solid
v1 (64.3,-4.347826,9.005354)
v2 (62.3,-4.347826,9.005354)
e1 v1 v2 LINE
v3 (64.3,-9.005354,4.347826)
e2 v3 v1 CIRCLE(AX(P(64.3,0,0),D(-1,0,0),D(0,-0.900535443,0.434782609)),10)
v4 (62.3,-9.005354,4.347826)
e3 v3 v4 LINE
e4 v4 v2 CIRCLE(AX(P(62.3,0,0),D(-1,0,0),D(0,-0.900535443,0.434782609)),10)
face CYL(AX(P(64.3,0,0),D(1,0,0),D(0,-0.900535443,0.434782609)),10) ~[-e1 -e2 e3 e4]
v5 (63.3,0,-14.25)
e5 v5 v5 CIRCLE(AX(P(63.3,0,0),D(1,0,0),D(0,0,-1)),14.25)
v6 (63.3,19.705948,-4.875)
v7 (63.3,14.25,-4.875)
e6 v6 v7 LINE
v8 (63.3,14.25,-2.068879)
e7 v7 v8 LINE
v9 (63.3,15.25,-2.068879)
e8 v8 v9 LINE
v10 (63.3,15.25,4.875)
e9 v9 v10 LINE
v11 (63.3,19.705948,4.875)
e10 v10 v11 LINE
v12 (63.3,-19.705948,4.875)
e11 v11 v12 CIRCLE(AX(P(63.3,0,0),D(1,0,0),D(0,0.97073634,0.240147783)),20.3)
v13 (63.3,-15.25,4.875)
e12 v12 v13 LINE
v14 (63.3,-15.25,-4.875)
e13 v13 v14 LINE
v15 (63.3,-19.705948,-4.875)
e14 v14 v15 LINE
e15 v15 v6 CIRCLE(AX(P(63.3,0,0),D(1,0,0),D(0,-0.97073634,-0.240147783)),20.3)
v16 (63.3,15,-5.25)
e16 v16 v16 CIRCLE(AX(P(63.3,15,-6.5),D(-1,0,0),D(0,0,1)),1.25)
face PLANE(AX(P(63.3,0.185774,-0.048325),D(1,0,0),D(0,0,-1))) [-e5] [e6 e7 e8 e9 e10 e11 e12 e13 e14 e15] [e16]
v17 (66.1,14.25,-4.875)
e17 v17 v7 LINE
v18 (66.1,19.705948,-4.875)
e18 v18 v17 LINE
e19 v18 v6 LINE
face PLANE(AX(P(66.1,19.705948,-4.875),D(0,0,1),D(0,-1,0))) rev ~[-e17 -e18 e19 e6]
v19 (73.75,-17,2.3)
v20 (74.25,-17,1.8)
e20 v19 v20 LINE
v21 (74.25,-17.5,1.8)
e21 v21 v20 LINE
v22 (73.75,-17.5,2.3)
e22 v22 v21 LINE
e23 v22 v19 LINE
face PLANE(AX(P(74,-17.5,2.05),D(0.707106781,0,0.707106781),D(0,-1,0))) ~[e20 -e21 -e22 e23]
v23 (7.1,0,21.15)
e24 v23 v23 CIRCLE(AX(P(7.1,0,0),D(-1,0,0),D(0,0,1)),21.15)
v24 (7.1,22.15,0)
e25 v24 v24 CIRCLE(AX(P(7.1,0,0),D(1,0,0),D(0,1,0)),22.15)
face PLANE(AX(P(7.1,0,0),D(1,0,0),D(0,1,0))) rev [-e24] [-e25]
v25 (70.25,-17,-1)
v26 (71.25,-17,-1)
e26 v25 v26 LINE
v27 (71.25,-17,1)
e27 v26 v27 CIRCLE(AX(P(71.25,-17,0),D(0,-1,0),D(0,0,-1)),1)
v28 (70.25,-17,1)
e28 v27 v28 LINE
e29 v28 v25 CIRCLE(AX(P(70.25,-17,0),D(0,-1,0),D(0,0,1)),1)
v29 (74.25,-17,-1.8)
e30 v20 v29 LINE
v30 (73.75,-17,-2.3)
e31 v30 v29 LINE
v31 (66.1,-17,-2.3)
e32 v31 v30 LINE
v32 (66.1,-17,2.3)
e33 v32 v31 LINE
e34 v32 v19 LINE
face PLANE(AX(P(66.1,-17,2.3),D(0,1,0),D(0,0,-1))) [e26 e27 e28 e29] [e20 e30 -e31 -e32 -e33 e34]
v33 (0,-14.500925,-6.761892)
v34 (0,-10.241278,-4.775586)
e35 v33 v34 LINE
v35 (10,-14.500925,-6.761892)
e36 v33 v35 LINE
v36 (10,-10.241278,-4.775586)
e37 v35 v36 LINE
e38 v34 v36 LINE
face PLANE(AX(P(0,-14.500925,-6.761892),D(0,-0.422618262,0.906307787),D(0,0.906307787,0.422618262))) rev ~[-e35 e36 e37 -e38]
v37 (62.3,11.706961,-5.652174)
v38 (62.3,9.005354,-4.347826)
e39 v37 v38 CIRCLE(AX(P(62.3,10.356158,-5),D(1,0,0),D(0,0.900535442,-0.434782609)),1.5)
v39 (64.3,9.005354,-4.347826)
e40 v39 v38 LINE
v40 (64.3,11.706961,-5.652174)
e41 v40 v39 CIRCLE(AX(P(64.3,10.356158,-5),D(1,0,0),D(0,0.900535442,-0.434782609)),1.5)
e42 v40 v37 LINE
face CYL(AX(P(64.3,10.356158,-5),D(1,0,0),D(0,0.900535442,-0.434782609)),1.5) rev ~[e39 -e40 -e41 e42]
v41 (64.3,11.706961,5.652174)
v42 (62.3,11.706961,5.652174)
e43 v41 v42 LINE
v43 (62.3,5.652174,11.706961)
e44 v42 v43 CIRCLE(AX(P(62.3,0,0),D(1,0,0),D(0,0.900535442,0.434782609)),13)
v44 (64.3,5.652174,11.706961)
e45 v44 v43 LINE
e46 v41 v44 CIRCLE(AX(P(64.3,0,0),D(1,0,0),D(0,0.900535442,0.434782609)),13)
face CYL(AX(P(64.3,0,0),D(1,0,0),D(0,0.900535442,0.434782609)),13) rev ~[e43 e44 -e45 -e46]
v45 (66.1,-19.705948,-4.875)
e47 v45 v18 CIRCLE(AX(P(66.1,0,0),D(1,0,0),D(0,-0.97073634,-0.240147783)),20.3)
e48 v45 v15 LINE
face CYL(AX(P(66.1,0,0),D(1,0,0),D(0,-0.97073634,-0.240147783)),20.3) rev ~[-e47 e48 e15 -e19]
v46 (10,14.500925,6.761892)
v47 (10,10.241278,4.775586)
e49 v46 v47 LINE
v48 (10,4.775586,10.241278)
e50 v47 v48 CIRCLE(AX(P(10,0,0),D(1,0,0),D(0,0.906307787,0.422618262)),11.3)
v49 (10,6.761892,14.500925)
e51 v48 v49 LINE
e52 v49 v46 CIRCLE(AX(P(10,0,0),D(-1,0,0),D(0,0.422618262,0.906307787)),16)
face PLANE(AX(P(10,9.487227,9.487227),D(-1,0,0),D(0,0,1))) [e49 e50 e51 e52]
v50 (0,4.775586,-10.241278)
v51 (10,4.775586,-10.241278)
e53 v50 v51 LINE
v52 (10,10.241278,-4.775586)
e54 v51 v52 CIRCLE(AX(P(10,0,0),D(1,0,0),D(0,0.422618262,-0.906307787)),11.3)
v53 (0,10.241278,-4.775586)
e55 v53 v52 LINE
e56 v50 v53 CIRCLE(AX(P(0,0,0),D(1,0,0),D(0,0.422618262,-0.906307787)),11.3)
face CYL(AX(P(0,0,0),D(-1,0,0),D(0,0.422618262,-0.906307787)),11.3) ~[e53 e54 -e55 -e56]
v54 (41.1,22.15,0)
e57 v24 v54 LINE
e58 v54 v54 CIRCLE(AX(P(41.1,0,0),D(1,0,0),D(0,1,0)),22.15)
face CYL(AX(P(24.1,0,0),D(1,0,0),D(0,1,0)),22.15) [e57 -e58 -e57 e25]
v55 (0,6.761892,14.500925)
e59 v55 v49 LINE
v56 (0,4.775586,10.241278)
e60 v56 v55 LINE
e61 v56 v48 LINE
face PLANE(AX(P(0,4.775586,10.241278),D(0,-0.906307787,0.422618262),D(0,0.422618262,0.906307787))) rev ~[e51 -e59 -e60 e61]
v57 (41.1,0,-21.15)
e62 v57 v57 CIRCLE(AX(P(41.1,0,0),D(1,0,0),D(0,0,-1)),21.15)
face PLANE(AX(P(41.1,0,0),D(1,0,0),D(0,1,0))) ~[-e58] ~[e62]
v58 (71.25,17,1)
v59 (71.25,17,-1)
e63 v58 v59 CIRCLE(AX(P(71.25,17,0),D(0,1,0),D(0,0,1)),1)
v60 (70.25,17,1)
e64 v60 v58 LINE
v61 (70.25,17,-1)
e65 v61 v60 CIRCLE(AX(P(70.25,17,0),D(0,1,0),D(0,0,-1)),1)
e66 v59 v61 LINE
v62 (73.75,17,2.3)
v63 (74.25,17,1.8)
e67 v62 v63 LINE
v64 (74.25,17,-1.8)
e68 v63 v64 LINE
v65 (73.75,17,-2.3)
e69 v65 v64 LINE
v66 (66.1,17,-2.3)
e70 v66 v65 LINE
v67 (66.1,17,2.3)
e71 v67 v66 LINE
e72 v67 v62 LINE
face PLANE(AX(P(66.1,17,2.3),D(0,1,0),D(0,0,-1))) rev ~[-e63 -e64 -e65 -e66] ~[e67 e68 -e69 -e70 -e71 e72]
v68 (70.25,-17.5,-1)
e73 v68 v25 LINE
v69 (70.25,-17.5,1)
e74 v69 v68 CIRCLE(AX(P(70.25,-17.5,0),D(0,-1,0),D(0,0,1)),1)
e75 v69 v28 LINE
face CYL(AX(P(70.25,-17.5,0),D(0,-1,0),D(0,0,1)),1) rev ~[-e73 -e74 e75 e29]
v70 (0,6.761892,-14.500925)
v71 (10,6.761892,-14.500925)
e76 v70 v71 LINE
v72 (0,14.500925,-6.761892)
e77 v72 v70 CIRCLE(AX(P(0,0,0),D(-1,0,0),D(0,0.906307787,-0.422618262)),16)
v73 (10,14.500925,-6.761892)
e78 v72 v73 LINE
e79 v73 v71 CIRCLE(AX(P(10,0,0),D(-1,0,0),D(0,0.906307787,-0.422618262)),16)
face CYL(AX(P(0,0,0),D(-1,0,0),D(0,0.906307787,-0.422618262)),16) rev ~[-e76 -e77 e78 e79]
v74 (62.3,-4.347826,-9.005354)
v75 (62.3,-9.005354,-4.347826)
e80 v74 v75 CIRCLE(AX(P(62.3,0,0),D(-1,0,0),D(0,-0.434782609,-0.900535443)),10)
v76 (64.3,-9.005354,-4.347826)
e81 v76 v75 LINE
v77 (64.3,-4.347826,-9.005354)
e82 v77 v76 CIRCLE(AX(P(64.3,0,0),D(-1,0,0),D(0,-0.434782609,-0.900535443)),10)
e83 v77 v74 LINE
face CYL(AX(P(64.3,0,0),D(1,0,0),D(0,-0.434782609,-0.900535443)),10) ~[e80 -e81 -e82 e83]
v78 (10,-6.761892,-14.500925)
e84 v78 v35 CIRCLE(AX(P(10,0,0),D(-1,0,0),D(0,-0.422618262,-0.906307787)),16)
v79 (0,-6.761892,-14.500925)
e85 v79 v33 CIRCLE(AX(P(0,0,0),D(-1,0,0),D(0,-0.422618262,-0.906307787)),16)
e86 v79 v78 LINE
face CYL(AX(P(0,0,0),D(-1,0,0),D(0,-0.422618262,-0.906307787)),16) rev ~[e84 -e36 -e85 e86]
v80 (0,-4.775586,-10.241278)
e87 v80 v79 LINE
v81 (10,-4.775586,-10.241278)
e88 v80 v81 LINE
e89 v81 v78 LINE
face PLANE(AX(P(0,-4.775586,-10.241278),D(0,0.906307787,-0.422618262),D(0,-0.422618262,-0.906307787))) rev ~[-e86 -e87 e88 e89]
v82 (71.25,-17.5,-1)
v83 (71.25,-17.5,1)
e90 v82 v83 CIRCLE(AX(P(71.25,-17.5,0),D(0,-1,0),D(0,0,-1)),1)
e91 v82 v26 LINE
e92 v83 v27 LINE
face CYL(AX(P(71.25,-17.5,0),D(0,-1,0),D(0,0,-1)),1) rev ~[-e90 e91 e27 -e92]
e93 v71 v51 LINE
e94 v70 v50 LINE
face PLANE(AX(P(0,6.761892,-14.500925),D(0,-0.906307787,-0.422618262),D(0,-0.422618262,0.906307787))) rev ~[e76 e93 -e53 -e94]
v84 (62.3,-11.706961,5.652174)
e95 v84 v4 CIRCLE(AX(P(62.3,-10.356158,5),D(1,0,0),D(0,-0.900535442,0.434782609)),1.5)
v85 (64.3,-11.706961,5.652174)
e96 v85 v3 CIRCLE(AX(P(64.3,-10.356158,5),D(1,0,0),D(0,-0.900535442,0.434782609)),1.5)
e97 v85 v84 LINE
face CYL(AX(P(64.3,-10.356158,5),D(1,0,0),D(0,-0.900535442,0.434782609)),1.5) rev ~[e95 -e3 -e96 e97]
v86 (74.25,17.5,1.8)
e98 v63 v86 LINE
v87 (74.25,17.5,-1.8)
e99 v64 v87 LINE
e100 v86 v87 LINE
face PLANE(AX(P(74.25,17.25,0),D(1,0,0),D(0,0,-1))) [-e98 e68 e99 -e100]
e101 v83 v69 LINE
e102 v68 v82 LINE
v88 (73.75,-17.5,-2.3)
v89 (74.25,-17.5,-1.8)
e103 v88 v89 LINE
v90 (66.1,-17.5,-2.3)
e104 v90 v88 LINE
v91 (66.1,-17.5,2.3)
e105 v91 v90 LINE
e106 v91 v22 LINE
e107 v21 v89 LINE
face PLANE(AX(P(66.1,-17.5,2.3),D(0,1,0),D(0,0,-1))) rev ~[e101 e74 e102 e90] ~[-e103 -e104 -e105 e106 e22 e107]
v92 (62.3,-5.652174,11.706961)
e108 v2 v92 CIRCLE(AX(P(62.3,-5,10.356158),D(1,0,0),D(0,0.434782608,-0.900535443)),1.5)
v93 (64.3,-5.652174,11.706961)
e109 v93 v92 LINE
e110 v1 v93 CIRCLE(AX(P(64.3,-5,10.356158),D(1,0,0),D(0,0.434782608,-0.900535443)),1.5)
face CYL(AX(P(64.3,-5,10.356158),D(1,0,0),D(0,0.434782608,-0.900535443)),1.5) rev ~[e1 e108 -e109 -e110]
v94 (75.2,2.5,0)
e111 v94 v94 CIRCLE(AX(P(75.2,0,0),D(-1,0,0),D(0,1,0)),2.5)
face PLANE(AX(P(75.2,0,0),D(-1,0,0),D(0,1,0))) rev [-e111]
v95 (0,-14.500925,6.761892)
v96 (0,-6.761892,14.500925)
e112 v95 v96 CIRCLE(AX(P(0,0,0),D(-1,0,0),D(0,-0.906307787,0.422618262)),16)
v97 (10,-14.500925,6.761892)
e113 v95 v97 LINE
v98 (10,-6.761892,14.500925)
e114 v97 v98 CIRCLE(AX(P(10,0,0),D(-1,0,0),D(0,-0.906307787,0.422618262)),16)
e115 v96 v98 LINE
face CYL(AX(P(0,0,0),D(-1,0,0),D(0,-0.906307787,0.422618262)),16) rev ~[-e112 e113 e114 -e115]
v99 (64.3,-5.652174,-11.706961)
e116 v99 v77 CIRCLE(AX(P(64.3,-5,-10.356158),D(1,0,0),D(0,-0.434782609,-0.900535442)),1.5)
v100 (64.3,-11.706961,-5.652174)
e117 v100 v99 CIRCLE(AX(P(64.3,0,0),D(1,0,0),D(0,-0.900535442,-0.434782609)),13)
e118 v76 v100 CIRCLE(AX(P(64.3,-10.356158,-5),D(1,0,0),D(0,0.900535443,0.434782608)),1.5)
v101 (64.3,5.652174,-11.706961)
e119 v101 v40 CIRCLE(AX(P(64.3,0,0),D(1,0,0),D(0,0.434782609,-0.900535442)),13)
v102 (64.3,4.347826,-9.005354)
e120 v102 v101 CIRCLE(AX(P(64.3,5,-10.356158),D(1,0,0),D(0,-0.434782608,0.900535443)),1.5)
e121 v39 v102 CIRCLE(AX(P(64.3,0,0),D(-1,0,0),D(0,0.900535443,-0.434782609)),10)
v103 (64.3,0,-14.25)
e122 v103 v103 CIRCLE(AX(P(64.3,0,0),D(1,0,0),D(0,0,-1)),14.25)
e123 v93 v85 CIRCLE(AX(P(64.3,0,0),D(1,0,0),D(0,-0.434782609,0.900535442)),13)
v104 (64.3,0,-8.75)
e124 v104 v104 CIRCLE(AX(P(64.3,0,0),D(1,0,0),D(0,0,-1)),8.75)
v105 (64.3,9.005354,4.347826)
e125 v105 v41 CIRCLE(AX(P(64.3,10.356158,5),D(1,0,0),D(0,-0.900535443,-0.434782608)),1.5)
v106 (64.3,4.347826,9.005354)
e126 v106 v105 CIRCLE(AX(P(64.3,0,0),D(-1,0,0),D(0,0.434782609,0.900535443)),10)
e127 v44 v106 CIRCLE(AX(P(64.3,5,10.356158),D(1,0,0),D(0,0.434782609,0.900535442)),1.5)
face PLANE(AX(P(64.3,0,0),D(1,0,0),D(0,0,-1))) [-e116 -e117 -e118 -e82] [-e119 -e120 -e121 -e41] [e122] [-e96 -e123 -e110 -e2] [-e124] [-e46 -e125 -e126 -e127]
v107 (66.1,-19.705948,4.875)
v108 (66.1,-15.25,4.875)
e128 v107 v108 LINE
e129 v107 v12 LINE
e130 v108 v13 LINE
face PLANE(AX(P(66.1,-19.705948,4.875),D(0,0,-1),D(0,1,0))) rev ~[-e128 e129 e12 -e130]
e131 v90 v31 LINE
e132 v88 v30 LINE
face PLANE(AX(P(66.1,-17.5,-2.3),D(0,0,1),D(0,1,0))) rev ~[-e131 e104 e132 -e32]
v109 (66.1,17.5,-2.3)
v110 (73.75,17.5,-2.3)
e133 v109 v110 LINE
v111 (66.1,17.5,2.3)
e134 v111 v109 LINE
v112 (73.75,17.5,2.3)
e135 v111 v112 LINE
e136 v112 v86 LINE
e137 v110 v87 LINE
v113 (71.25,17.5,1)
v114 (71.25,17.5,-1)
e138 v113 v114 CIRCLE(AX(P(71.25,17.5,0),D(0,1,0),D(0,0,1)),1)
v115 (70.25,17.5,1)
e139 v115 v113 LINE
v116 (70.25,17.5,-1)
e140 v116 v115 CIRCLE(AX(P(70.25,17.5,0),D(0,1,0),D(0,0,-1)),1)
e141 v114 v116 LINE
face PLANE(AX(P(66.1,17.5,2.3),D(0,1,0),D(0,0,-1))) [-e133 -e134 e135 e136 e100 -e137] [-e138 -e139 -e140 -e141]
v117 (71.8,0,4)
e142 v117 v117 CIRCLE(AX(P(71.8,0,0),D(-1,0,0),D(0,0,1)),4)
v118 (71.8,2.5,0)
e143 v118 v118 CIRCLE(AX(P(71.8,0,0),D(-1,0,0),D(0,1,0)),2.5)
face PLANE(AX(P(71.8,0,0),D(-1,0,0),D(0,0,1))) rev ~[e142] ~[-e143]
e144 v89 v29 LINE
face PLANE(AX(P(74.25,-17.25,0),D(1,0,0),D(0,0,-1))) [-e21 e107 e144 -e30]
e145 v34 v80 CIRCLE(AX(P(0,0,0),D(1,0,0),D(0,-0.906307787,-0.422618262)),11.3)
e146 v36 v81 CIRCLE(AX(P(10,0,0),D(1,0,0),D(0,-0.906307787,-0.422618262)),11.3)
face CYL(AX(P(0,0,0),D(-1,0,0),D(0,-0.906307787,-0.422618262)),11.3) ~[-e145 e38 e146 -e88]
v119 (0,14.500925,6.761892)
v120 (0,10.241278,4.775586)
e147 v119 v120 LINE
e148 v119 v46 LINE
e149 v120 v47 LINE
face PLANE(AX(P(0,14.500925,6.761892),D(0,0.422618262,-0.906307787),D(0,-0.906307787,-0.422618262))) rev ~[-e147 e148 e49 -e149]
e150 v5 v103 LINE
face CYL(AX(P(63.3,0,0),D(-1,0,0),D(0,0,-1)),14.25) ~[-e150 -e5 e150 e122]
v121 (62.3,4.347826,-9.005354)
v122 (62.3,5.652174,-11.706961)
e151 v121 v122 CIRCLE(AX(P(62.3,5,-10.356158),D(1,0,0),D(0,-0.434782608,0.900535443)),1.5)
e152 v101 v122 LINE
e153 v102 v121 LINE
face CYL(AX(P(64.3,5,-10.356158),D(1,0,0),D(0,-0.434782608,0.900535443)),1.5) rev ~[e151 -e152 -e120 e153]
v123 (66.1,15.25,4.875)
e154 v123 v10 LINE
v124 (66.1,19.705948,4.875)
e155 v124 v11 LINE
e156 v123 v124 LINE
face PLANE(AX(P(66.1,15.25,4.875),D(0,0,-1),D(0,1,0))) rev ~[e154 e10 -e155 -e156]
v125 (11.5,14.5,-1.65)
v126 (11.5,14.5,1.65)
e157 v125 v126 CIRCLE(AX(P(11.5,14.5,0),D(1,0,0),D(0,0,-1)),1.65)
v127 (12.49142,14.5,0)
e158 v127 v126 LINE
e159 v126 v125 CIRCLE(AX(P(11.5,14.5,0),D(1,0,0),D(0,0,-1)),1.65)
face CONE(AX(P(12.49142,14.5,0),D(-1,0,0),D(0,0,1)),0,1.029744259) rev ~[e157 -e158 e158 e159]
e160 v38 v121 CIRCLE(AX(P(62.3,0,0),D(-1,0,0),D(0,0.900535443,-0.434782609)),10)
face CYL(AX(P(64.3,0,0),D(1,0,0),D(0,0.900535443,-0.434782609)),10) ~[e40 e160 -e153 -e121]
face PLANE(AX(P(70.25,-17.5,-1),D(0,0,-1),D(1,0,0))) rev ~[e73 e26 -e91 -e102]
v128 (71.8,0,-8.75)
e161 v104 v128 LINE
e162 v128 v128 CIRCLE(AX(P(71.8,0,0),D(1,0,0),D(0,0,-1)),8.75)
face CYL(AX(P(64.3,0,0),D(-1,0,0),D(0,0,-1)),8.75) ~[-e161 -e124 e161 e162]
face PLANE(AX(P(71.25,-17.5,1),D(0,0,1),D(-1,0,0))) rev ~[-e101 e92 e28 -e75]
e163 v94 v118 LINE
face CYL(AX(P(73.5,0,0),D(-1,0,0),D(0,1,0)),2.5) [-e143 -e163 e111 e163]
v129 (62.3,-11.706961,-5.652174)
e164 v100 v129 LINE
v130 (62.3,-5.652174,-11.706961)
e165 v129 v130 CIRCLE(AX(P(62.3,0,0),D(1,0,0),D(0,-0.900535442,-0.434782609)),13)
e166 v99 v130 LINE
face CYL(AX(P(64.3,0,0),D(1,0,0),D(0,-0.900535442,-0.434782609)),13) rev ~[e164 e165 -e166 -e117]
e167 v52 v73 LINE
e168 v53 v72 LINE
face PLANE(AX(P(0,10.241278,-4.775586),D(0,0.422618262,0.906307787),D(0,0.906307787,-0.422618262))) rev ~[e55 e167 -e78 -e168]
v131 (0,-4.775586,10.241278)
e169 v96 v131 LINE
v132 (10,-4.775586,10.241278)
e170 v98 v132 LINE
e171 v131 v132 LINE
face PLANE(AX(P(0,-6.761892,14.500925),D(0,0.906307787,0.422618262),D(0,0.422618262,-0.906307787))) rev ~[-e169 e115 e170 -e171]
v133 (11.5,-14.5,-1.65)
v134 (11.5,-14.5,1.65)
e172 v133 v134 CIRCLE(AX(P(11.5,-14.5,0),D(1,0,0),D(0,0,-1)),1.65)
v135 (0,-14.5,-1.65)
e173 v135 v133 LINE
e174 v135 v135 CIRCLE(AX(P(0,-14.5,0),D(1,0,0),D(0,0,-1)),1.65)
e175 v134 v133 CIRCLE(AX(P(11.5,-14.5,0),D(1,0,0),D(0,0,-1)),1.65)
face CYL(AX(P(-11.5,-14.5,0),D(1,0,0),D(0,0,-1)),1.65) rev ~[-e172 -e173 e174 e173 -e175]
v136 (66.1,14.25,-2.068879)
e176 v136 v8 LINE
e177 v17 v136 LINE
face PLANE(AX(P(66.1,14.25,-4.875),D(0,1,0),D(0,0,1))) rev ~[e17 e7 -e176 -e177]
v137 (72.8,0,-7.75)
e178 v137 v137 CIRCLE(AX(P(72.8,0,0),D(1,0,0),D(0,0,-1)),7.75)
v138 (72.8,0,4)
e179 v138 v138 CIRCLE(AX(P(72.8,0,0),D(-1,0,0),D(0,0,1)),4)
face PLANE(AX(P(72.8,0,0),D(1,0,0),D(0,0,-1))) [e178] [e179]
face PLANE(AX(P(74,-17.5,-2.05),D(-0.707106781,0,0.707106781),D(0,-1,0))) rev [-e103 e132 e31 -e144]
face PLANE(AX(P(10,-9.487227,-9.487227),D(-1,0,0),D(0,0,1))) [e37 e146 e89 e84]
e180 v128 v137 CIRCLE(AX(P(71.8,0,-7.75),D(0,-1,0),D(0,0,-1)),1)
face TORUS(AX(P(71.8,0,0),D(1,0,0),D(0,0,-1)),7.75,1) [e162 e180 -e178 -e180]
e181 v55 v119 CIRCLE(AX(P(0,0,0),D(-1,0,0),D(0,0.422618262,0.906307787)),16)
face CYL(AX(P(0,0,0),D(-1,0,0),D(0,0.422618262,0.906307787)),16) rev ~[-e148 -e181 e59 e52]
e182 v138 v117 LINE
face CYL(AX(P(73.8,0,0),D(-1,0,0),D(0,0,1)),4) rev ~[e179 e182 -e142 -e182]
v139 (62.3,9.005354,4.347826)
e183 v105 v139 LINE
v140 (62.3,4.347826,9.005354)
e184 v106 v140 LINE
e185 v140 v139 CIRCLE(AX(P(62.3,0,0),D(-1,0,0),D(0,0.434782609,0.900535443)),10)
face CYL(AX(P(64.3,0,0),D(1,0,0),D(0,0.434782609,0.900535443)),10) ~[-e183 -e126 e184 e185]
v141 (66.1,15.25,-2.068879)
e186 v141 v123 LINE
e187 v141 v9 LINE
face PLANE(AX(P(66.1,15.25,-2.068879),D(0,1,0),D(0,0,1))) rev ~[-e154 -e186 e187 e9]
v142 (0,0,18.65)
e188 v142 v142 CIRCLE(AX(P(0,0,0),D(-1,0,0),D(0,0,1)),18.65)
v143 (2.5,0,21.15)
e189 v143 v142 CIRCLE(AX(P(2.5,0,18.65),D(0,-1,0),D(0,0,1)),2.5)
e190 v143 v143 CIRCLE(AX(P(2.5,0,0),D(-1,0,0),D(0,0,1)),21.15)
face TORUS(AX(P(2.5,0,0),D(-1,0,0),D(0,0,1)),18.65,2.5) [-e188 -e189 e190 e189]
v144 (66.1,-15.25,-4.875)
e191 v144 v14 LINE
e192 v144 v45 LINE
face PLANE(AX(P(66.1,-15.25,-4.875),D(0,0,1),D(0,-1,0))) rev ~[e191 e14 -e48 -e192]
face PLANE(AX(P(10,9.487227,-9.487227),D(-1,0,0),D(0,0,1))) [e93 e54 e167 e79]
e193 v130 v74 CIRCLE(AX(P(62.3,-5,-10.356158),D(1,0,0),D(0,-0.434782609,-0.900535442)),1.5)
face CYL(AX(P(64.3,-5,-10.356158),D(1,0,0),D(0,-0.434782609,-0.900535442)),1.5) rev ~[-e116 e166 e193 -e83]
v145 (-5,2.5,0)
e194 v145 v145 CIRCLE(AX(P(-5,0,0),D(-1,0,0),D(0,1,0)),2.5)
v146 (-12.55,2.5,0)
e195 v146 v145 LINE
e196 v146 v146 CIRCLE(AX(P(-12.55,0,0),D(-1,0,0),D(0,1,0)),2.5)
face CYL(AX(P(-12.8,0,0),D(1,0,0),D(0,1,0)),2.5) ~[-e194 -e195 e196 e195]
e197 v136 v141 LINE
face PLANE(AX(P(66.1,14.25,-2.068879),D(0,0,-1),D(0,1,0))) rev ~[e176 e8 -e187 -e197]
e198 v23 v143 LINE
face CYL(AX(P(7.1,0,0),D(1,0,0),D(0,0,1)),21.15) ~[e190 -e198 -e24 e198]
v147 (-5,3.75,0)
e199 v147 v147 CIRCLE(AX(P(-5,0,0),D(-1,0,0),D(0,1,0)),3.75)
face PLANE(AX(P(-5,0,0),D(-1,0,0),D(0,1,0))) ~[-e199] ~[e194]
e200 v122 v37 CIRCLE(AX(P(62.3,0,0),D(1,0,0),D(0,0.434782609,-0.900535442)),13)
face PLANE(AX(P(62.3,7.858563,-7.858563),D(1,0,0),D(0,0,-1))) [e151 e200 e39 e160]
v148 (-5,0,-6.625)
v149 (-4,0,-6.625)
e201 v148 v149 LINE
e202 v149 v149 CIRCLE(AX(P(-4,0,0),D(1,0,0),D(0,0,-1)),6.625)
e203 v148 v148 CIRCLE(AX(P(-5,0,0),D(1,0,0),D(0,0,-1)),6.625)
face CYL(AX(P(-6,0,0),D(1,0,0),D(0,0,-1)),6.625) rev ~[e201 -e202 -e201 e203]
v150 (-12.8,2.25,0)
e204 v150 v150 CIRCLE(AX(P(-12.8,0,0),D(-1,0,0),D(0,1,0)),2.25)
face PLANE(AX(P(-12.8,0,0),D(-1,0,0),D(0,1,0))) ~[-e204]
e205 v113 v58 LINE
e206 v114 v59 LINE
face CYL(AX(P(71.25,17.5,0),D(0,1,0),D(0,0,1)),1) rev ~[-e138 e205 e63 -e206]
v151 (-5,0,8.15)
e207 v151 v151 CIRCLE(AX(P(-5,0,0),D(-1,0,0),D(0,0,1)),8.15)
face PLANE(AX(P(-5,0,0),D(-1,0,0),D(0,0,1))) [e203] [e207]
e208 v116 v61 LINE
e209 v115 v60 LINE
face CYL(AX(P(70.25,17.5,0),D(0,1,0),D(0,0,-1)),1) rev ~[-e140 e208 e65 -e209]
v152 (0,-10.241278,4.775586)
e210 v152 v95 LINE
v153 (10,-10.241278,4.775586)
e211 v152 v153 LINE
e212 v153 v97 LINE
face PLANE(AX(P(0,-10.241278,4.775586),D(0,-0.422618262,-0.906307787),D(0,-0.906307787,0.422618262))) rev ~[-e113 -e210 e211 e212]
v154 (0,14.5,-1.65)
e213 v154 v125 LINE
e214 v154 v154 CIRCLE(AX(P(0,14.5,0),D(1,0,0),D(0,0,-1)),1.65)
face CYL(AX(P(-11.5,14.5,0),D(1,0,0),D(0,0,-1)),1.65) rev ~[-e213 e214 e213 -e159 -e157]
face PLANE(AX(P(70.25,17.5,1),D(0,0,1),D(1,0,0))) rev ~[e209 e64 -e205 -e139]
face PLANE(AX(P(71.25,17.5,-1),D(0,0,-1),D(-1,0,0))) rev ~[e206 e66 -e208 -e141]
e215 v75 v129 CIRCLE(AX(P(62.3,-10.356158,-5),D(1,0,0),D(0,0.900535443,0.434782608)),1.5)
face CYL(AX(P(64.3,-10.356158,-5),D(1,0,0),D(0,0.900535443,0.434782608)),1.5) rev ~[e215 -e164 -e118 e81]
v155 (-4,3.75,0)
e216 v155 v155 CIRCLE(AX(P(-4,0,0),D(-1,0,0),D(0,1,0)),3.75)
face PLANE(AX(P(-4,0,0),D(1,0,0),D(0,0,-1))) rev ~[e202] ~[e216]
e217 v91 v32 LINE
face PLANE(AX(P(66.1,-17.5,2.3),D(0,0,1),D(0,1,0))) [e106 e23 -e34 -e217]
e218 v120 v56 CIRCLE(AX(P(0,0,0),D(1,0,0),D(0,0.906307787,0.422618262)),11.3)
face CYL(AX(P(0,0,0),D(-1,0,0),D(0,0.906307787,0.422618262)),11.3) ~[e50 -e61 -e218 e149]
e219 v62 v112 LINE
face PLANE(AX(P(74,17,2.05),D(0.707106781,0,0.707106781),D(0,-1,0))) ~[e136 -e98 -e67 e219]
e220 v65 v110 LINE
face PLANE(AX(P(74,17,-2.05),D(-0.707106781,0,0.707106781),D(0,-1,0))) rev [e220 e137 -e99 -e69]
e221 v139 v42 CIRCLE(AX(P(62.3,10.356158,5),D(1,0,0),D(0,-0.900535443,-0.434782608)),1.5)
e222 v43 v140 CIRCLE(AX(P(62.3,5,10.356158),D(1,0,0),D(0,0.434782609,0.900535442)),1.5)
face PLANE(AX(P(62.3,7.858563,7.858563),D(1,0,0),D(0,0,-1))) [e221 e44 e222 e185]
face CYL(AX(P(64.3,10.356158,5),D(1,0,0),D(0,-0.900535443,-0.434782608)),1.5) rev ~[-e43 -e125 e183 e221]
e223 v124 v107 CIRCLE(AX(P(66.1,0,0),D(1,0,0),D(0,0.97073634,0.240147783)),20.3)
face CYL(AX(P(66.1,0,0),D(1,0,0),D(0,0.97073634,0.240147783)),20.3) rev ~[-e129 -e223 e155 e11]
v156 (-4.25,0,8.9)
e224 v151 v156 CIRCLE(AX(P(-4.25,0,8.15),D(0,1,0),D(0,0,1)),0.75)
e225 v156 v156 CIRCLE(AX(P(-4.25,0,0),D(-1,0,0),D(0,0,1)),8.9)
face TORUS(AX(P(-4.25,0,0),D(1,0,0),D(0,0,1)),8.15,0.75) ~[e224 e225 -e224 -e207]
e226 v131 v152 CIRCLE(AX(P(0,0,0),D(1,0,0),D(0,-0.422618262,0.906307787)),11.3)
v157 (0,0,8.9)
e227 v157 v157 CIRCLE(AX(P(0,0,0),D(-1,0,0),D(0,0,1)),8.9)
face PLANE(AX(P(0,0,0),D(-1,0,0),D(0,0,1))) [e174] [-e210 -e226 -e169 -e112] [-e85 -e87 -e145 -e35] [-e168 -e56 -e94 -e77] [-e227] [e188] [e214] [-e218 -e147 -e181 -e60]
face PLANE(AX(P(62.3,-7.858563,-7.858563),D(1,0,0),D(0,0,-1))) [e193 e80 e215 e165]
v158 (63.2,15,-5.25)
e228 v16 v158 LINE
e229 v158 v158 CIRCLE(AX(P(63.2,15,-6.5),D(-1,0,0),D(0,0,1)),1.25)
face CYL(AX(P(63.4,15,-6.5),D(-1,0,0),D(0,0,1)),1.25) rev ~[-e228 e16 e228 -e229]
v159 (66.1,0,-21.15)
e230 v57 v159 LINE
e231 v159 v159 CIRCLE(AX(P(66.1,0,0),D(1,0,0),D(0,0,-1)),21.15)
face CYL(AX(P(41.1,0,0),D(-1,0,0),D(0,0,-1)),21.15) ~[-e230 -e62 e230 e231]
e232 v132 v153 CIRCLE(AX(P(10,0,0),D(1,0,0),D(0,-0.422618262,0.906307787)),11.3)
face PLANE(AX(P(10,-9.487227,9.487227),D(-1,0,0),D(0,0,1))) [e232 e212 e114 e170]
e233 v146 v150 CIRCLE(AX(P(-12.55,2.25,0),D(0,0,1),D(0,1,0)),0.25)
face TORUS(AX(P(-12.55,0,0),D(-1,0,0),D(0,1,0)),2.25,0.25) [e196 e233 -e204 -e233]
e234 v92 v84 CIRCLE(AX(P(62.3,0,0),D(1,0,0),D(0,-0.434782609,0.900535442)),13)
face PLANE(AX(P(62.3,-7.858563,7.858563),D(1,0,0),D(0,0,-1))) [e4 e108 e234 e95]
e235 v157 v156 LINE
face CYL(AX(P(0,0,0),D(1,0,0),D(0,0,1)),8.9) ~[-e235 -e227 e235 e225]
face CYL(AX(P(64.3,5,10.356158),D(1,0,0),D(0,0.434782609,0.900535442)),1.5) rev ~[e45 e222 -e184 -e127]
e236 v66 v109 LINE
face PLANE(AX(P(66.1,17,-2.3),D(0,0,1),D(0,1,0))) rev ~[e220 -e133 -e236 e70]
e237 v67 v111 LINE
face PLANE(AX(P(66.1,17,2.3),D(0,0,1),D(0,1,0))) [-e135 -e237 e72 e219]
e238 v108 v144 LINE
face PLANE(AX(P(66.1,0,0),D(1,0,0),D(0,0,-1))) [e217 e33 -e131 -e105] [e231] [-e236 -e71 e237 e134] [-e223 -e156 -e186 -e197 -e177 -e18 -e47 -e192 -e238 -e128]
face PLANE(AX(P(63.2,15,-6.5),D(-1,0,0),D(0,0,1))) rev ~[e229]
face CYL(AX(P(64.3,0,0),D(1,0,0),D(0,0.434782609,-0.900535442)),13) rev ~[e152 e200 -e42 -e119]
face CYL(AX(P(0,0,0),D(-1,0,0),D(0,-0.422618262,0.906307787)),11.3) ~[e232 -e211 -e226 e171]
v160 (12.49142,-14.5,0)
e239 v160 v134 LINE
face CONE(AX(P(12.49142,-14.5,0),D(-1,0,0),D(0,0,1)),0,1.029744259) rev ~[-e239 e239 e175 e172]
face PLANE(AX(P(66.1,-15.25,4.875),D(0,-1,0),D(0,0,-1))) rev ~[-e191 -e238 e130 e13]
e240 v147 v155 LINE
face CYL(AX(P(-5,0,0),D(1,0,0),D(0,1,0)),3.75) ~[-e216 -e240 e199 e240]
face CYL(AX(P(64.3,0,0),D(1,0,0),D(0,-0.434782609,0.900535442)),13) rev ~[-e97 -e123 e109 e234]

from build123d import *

# Parameters (mm, degrees)
SKETCH1_W                   = 34
SKETCH1_H                   = 22.15
SKETCH2_R                   = 21.15
BOSS_EXTRUDE1_DEPTH         = 25
SKETCH3_W                   = 4.6
SKETCH3_H                   = 0.5
BOSS_EXTRUDE2_DEPTH         = 8.15
CUT_EXTRUDE1_DEPTH          = 40.65
SKETCH5_W                   = 4.6
SKETCH5_H                   = 0.5
BOSS_EXTRUDE3_DEPTH         = 8.15
CUT_EXTRUDE2_REACH          = 41.65
CUT_EXTRUDE3_DEPTH          = 2.8
SKETCH8_R                   = 14.25
BOSS_EXTRUDE4_DEPTH         = 1
CUT_EXTRUDE4_DEPTH          = 2
CUT_EXTRUDE5_DEPTH          = 2
CUT_EXTRUDE6_DEPTH          = 2
CUT_EXTRUDE7_DEPTH          = 2
SKETCH13_R                  = 21.15
BOSS_EXTRUDE5_DEPTH         = 7.1
CUT_EXTRUDE8_DEPTH          = 10
CUT_EXTRUDE9_DEPTH          = 10
CUT_EXTRUDE10_DEPTH         = 10
CUT_EXTRUDE11_DEPTH         = 10
SKETCH18_R                  = 8.75
BOSS_EXTRUDE6_DEPTH         = 8.5
HOLE1_D                     = 8
HOLE1_DEPTH                 = 1
SKETCH21_R                  = 8.9
BOSS_EXTRUDE7_DEPTH         = 5
F_1_2_CLEARANCE_HOLE1_D     = 13.25
F_1_2_CLEARANCE_HOLE1_DEPTH = 1
SKETCH25_W                  = 3.4
SKETCH25_H                  = 2.5
F_2_CLEARANCE_HOLE1_D       = 2.5
F_2_CLEARANCE_HOLE1_DEPTH   = 0.1
F_4_CLEARANCE_HOLE1_D       = 3.3
F_4_CLEARANCE_HOLE1_DEPTH   = 11.5
F_4_CLEARANCE_HOLE1_TIP     = 0.991420021
CHAMFER1_SIZE               = 0.5
FILLET1_R                   = 0.25
FILLET2_R                   = 0.75
FILLET3_R                   = 1
FILLET4_R                   = 2.5


with BuildPart() as part:
    # Sketch1 → Revolve1 (revolve)
    with BuildSketch(Plane.XY):
        with Locations((24.1, 11.075)):
            Rectangle(SKETCH1_W, SKETCH1_H)
    revolve(axis=Axis((7.1, 0, 0), (1, 0, 0)))

    # Sketch2 → Boss-Extrude1 (add)
    with BuildSketch(Plane(origin=(41.1, 0, 0), x_dir=(0, 0, -1), z_dir=(1, 0, 0))):
        Circle(SKETCH2_R)
    extrude(amount=BOSS_EXTRUDE1_DEPTH)

    # Sketch3 → Boss-Extrude2 (add)
    with BuildSketch(Plane(origin=(66.1, 0, 0), x_dir=(0, 0, -1), z_dir=(1, 0, 0))):
        with Locations((0, 17.25)):
            Rectangle(SKETCH3_W, SKETCH3_H)
    extrude(amount=BOSS_EXTRUDE2_DEPTH)

    # Sketch4 → Cut-Extrude1 (cut, through all)
    with BuildSketch(Plane(origin=(0, 17.5, 0), x_dir=(-1, 0, 0), z_dir=(0, 1, 0))):
        with BuildLine():
            Line((-71.25, -1), (-70.25, -1))
            ThreePointArc((-70.25, -1), (-69.25, 0), (-70.25, 1))
            Line((-70.25, 1), (-71.25, 1))
            ThreePointArc((-71.25, 1), (-72.25, 0), (-71.25, -1))
        make_face()
    extrude(amount=-CUT_EXTRUDE1_DEPTH, mode=Mode.SUBTRACT)

    # Sketch5 → Boss-Extrude3 (add)
    with BuildSketch(Plane(origin=(66.1, 0, 0), x_dir=(0, 0, -1), z_dir=(1, 0, 0))):
        with Locations((0, -17.25)):
            Rectangle(SKETCH5_W, SKETCH5_H)
    extrude(amount=BOSS_EXTRUDE3_DEPTH)

    # Sketch6 → Cut-Extrude2 (cut, up to next)
    with BuildSketch(Plane.XZ.offset(17.5), mode=Mode.PRIVATE) as cut_extrude2_sk1:
        with BuildLine():
            Line((71.25, 1), (70.25, 1))
            ThreePointArc((70.25, 1), (69.25, 0), (70.25, -1))
            Line((70.25, -1), (71.25, -1))
            ThreePointArc((71.25, -1), (72.25, 0), (71.25, 1))
        make_face()
    cut_extrude2_tool1 = extrude(cut_extrude2_sk1.sketch, amount=-CUT_EXTRUDE2_REACH, mode=Mode.PRIVATE) & part.part
    add(cut_extrude2_tool1.solids().sort_by_distance((70.75, -17.5, 0))[0], mode=Mode.SUBTRACT)

    # Sketch7 → Cut-Extrude3 (cut)
    with BuildSketch(Plane(origin=(66.1, 0, 0), x_dir=(0, 0, -1), z_dir=(1, 0, 0))):
        with BuildLine():
            Line((2.068879475, 14.25), (2.068879475, 15.25))
            Line((2.068879475, 15.25), (-4.875, 15.25))
            Line((-4.875, 15.25), (-4.875, 19.705947706))
            ThreePointArc((-4.875, 19.705947706), (-20.3, 0), (-4.875, -19.705947706))
            Line((-4.875, -19.705947706), (-4.875, -15.25))
            Line((-4.875, -15.25), (4.875, -15.25))
            Line((4.875, -15.25), (4.875, -19.705947706))
            ThreePointArc((4.875, -19.705947706), (20.3, 0), (4.875, 19.705947706))
            Line((4.875, 19.705947706), (4.875, 14.25))
            Line((4.875, 14.25), (2.068879475, 14.25))
        make_face()
    extrude(amount=-CUT_EXTRUDE3_DEPTH, mode=Mode.SUBTRACT)

    # Sketch8 → Boss-Extrude4 (add)
    with BuildSketch(Plane(origin=(63.3, 0, 0), x_dir=(0, 0, -1), z_dir=(1, 0, 0))):
        Circle(SKETCH8_R)
    extrude(amount=BOSS_EXTRUDE4_DEPTH)

    # Sketch9 → Cut-Extrude4 (cut)
    with BuildSketch(Plane(origin=(64.3, 0, 0), x_dir=(0, 0, -1), z_dir=(1, 0, 0))):
        with BuildLine():
            ThreePointArc((-5.652173913, 11.706960752), (-9.192388155, 9.192388155), (-11.706960752, 5.652173913))
            ThreePointArc((-11.706960752, 5.652173913), (-11.008331502, 3.649196836), (-9.005354425, 4.347826087))
            ThreePointArc((-9.005354425, 4.347826087), (-7.071067812, 7.071067812), (-4.347826087, 9.005354425))
            ThreePointArc((-4.347826087, 9.005354425), (-3.649196836, 11.008331502), (-5.652173913, 11.706960752))
        make_face()
    extrude(amount=-CUT_EXTRUDE4_DEPTH, mode=Mode.SUBTRACT)

    # Sketch10 → Cut-Extrude5 (cut)
    with BuildSketch(Plane(origin=(64.3, 0, 0), x_dir=(0, 0, -1), z_dir=(1, 0, 0))):
        with BuildLine():
            ThreePointArc((11.706960752, 5.652173913), (9.192388155, 9.192388155), (5.652173913, 11.706960752))
            ThreePointArc((5.652173913, 11.706960752), (3.649196836, 11.008331502), (4.347826087, 9.005354425))
            ThreePointArc((4.347826087, 9.005354425), (7.071067812, 7.071067812), (9.005354425, 4.347826087))
            ThreePointArc((9.005354425, 4.347826087), (11.008331502, 3.649196836), (11.706960752, 5.652173913))
        make_face()
    extrude(amount=-CUT_EXTRUDE5_DEPTH, mode=Mode.SUBTRACT)

    # Sketch11 → Cut-Extrude6 (cut)
    with BuildSketch(Plane(origin=(64.3, 0, 0), x_dir=(0, 0, -1), z_dir=(1, 0, 0))):
        with BuildLine():
            ThreePointArc((5.652173913, -11.706960752), (9.192388155, -9.192388155), (11.706960752, -5.652173913))
            ThreePointArc((11.706960752, -5.652173913), (11.008331502, -3.649196836), (9.005354425, -4.347826087))
            ThreePointArc((9.005354425, -4.347826087), (7.071067812, -7.071067812), (4.347826087, -9.005354425))
            ThreePointArc((4.347826087, -9.005354425), (3.649196836, -11.008331502), (5.652173913, -11.706960752))
        make_face()
    extrude(amount=-CUT_EXTRUDE6_DEPTH, mode=Mode.SUBTRACT)

    # Sketch12 → Cut-Extrude7 (cut)
    with BuildSketch(Plane(origin=(64.3, 0, 0), x_dir=(0, 0, -1), z_dir=(1, 0, 0))):
        with BuildLine():
            ThreePointArc((-11.706960752, -5.652173913), (-9.192388155, -9.192388155), (-5.652173913, -11.706960752))
            ThreePointArc((-5.652173913, -11.706960752), (-3.649196836, -11.008331502), (-4.347826087, -9.005354425))
            ThreePointArc((-4.347826087, -9.005354425), (-7.071067812, -7.071067812), (-9.005354425, -4.347826087))
            ThreePointArc((-9.005354425, -4.347826087), (-11.008331502, -3.649196836), (-11.706960752, -5.652173913))
        make_face()
    extrude(amount=-CUT_EXTRUDE7_DEPTH, mode=Mode.SUBTRACT)

    # Sketch13 → Boss-Extrude5 (add)
    with BuildSketch(Plane.ZY.offset(-7.1)):
        Circle(SKETCH13_R)
    extrude(amount=BOSS_EXTRUDE5_DEPTH)

    # Sketch14 → Cut-Extrude8 (cut)
    with BuildSketch(Plane.ZY):
        with BuildLine():
            Line((6.761892188, 14.500924593), (4.775586358, 10.241277994))
            ThreePointArc((4.775586358, 10.241277994), (7.990306627, 7.990306627), (10.241277994, 4.775586358))
            Line((10.241277994, 4.775586358), (14.500924593, 6.761892188))
            ThreePointArc((14.500924593, 6.761892188), (11.313708499, 11.313708499), (6.761892188, 14.500924593))
        make_face()
    extrude(amount=-CUT_EXTRUDE8_DEPTH, mode=Mode.SUBTRACT)

    # Sketch15 → Cut-Extrude9 (cut)
    with BuildSketch(Plane.ZY):
        with BuildLine():
            Line((-6.761892188, -14.500924593), (-4.775586358, -10.241277994))
            ThreePointArc((-4.775586358, -10.241277994), (-7.990306627, -7.990306627), (-10.241277994, -4.775586358))
            Line((-10.241277994, -4.775586358), (-14.500924593, -6.761892188))
            ThreePointArc((-14.500924593, -6.761892188), (-11.313708499, -11.313708499), (-6.761892188, -14.500924593))
        make_face()
    extrude(amount=-CUT_EXTRUDE9_DEPTH, mode=Mode.SUBTRACT)

    # Sketch16 → Cut-Extrude10 (cut)
    with BuildSketch(Plane.ZY):
        with BuildLine():
            Line((-14.500924593, 6.761892188), (-10.241277994, 4.775586358))
            ThreePointArc((-10.241277994, 4.775586358), (-7.990306627, 7.990306627), (-4.775586358, 10.241277994))
            Line((-4.775586358, 10.241277994), (-6.761892188, 14.500924593))
            ThreePointArc((-6.761892188, 14.500924593), (-11.313708499, 11.313708499), (-14.500924593, 6.761892188))
        make_face()
    extrude(amount=-CUT_EXTRUDE10_DEPTH, mode=Mode.SUBTRACT)

    # Sketch17 → Cut-Extrude11 (cut)
    with BuildSketch(Plane.ZY):
        with BuildLine():
            Line((14.500924593, -6.761892188), (10.241277994, -4.775586358))
            ThreePointArc((10.241277994, -4.775586358), (7.990306627, -7.990306627), (4.775586358, -10.241277994))
            Line((4.775586358, -10.241277994), (6.761892188, -14.500924593))
            ThreePointArc((6.761892188, -14.500924593), (11.313708499, -11.313708499), (14.500924593, -6.761892188))
        make_face()
    extrude(amount=-CUT_EXTRUDE11_DEPTH, mode=Mode.SUBTRACT)

    # Sketch18 → Boss-Extrude6 (add)
    with BuildSketch(Plane(origin=(64.3, 0, 0), x_dir=(0, 0, -1), z_dir=(1, 0, 0))):
        Circle(SKETCH18_R)
    extrude(amount=BOSS_EXTRUDE6_DEPTH)

    # Hole1
    with Locations(Plane(origin=(72.8, 0, 0), x_dir=(0, 0, -1), z_dir=(1, 0, 0))):
        with Locations((0, 0)):
            Hole(HOLE1_D / 2, depth=HOLE1_DEPTH)

    # Sketch21 → Boss-Extrude7 (add)
    with BuildSketch(Plane.ZY):
        Circle(SKETCH21_R)
    extrude(amount=BOSS_EXTRUDE7_DEPTH)

    # 1/2 Clearance Hole1
    with Locations(Plane.ZY.offset(5)):
        with Locations((0, 0)):
            Hole(F_1_2_CLEARANCE_HOLE1_D / 2, depth=F_1_2_CLEARANCE_HOLE1_DEPTH)

    # Sketch24 → Revolve2 (revolve)
    with BuildSketch(Plane(origin=(0, 0, 0), x_dir=(-1, 0, 0), z_dir=(0, 0, -1))):
        Polygon((4, 3.75), (4, 0), (12.8, 0), (12.8, 2.5), (5, 2.5), (5, 3.75), align=None)
    revolve(axis=Axis((-4, 0, 0), (-1, 0, 0)))

    # Sketch25 → Revolve3 (revolve)
    with BuildSketch(Plane(origin=(0, 0, 0), x_dir=(-1, 0, 0), z_dir=(0, 0, -1))):
        with Locations((-73.5, 1.25)):
            Rectangle(SKETCH25_W, SKETCH25_H)
    revolve(axis=Axis((75.2, 0, 0), (-1, 0, 0)))

    # #2 Clearance Hole1
    with Locations(Plane(origin=(63.3, 0, 0), x_dir=(0, 0, -1), z_dir=(1, 0, 0))):
        with Locations((6.5, 15)):
            Hole(F_2_CLEARANCE_HOLE1_D / 2, depth=F_2_CLEARANCE_HOLE1_DEPTH)

    # #4 Clearance Hole1
    with Locations(Plane.ZY):
        with Locations((0, 14.5), (0, -14.5)):
            Hole(F_4_CLEARANCE_HOLE1_D / 2, depth=F_4_CLEARANCE_HOLE1_DEPTH)
            with Locations((0, 0, -(F_4_CLEARANCE_HOLE1_DEPTH + F_4_CLEARANCE_HOLE1_TIP / 2))):  # 118° drill point
                Cone(0, F_4_CLEARANCE_HOLE1_D / 2, F_4_CLEARANCE_HOLE1_TIP, mode=Mode.SUBTRACT)

    # Chamfer1
    chamfer1_edges = [part.edges().sort_by_distance(p)[0] for p in [
        (74.25, 17.25, -2.3),
        (74.25, 17.25, 2.3),
        (74.25, -17.25, -2.3),
        (74.25, -17.25, 2.3),
    ]]
    chamfer(chamfer1_edges, length=CHAMFER1_SIZE)

    # Fillet1
    fillet1_edges = [part.edges().sort_by_distance(p)[0] for p in [
        (-12.8, -2.5, 0),
    ]]
    fillet(fillet1_edges, radius=FILLET1_R)

    # Fillet2
    fillet2_edges = [part.edges().sort_by_distance(p)[0] for p in [
        (-5, 0, -8.9),
    ]]
    fillet(fillet2_edges, radius=FILLET2_R)

    # Fillet3
    fillet3_edges = [part.edges().sort_by_distance(p)[0] for p in [
        (72.8, 0, 8.75),
    ]]
    fillet(fillet3_edges, radius=FILLET3_R)

    # Fillet4
    fillet4_edges = [part.edges().sort_by_distance(p)[0] for p in [
        (0, 0, -21.15),
    ]]
    fillet(fillet4_edges, radius=FILLET4_R)


solid = part.part
